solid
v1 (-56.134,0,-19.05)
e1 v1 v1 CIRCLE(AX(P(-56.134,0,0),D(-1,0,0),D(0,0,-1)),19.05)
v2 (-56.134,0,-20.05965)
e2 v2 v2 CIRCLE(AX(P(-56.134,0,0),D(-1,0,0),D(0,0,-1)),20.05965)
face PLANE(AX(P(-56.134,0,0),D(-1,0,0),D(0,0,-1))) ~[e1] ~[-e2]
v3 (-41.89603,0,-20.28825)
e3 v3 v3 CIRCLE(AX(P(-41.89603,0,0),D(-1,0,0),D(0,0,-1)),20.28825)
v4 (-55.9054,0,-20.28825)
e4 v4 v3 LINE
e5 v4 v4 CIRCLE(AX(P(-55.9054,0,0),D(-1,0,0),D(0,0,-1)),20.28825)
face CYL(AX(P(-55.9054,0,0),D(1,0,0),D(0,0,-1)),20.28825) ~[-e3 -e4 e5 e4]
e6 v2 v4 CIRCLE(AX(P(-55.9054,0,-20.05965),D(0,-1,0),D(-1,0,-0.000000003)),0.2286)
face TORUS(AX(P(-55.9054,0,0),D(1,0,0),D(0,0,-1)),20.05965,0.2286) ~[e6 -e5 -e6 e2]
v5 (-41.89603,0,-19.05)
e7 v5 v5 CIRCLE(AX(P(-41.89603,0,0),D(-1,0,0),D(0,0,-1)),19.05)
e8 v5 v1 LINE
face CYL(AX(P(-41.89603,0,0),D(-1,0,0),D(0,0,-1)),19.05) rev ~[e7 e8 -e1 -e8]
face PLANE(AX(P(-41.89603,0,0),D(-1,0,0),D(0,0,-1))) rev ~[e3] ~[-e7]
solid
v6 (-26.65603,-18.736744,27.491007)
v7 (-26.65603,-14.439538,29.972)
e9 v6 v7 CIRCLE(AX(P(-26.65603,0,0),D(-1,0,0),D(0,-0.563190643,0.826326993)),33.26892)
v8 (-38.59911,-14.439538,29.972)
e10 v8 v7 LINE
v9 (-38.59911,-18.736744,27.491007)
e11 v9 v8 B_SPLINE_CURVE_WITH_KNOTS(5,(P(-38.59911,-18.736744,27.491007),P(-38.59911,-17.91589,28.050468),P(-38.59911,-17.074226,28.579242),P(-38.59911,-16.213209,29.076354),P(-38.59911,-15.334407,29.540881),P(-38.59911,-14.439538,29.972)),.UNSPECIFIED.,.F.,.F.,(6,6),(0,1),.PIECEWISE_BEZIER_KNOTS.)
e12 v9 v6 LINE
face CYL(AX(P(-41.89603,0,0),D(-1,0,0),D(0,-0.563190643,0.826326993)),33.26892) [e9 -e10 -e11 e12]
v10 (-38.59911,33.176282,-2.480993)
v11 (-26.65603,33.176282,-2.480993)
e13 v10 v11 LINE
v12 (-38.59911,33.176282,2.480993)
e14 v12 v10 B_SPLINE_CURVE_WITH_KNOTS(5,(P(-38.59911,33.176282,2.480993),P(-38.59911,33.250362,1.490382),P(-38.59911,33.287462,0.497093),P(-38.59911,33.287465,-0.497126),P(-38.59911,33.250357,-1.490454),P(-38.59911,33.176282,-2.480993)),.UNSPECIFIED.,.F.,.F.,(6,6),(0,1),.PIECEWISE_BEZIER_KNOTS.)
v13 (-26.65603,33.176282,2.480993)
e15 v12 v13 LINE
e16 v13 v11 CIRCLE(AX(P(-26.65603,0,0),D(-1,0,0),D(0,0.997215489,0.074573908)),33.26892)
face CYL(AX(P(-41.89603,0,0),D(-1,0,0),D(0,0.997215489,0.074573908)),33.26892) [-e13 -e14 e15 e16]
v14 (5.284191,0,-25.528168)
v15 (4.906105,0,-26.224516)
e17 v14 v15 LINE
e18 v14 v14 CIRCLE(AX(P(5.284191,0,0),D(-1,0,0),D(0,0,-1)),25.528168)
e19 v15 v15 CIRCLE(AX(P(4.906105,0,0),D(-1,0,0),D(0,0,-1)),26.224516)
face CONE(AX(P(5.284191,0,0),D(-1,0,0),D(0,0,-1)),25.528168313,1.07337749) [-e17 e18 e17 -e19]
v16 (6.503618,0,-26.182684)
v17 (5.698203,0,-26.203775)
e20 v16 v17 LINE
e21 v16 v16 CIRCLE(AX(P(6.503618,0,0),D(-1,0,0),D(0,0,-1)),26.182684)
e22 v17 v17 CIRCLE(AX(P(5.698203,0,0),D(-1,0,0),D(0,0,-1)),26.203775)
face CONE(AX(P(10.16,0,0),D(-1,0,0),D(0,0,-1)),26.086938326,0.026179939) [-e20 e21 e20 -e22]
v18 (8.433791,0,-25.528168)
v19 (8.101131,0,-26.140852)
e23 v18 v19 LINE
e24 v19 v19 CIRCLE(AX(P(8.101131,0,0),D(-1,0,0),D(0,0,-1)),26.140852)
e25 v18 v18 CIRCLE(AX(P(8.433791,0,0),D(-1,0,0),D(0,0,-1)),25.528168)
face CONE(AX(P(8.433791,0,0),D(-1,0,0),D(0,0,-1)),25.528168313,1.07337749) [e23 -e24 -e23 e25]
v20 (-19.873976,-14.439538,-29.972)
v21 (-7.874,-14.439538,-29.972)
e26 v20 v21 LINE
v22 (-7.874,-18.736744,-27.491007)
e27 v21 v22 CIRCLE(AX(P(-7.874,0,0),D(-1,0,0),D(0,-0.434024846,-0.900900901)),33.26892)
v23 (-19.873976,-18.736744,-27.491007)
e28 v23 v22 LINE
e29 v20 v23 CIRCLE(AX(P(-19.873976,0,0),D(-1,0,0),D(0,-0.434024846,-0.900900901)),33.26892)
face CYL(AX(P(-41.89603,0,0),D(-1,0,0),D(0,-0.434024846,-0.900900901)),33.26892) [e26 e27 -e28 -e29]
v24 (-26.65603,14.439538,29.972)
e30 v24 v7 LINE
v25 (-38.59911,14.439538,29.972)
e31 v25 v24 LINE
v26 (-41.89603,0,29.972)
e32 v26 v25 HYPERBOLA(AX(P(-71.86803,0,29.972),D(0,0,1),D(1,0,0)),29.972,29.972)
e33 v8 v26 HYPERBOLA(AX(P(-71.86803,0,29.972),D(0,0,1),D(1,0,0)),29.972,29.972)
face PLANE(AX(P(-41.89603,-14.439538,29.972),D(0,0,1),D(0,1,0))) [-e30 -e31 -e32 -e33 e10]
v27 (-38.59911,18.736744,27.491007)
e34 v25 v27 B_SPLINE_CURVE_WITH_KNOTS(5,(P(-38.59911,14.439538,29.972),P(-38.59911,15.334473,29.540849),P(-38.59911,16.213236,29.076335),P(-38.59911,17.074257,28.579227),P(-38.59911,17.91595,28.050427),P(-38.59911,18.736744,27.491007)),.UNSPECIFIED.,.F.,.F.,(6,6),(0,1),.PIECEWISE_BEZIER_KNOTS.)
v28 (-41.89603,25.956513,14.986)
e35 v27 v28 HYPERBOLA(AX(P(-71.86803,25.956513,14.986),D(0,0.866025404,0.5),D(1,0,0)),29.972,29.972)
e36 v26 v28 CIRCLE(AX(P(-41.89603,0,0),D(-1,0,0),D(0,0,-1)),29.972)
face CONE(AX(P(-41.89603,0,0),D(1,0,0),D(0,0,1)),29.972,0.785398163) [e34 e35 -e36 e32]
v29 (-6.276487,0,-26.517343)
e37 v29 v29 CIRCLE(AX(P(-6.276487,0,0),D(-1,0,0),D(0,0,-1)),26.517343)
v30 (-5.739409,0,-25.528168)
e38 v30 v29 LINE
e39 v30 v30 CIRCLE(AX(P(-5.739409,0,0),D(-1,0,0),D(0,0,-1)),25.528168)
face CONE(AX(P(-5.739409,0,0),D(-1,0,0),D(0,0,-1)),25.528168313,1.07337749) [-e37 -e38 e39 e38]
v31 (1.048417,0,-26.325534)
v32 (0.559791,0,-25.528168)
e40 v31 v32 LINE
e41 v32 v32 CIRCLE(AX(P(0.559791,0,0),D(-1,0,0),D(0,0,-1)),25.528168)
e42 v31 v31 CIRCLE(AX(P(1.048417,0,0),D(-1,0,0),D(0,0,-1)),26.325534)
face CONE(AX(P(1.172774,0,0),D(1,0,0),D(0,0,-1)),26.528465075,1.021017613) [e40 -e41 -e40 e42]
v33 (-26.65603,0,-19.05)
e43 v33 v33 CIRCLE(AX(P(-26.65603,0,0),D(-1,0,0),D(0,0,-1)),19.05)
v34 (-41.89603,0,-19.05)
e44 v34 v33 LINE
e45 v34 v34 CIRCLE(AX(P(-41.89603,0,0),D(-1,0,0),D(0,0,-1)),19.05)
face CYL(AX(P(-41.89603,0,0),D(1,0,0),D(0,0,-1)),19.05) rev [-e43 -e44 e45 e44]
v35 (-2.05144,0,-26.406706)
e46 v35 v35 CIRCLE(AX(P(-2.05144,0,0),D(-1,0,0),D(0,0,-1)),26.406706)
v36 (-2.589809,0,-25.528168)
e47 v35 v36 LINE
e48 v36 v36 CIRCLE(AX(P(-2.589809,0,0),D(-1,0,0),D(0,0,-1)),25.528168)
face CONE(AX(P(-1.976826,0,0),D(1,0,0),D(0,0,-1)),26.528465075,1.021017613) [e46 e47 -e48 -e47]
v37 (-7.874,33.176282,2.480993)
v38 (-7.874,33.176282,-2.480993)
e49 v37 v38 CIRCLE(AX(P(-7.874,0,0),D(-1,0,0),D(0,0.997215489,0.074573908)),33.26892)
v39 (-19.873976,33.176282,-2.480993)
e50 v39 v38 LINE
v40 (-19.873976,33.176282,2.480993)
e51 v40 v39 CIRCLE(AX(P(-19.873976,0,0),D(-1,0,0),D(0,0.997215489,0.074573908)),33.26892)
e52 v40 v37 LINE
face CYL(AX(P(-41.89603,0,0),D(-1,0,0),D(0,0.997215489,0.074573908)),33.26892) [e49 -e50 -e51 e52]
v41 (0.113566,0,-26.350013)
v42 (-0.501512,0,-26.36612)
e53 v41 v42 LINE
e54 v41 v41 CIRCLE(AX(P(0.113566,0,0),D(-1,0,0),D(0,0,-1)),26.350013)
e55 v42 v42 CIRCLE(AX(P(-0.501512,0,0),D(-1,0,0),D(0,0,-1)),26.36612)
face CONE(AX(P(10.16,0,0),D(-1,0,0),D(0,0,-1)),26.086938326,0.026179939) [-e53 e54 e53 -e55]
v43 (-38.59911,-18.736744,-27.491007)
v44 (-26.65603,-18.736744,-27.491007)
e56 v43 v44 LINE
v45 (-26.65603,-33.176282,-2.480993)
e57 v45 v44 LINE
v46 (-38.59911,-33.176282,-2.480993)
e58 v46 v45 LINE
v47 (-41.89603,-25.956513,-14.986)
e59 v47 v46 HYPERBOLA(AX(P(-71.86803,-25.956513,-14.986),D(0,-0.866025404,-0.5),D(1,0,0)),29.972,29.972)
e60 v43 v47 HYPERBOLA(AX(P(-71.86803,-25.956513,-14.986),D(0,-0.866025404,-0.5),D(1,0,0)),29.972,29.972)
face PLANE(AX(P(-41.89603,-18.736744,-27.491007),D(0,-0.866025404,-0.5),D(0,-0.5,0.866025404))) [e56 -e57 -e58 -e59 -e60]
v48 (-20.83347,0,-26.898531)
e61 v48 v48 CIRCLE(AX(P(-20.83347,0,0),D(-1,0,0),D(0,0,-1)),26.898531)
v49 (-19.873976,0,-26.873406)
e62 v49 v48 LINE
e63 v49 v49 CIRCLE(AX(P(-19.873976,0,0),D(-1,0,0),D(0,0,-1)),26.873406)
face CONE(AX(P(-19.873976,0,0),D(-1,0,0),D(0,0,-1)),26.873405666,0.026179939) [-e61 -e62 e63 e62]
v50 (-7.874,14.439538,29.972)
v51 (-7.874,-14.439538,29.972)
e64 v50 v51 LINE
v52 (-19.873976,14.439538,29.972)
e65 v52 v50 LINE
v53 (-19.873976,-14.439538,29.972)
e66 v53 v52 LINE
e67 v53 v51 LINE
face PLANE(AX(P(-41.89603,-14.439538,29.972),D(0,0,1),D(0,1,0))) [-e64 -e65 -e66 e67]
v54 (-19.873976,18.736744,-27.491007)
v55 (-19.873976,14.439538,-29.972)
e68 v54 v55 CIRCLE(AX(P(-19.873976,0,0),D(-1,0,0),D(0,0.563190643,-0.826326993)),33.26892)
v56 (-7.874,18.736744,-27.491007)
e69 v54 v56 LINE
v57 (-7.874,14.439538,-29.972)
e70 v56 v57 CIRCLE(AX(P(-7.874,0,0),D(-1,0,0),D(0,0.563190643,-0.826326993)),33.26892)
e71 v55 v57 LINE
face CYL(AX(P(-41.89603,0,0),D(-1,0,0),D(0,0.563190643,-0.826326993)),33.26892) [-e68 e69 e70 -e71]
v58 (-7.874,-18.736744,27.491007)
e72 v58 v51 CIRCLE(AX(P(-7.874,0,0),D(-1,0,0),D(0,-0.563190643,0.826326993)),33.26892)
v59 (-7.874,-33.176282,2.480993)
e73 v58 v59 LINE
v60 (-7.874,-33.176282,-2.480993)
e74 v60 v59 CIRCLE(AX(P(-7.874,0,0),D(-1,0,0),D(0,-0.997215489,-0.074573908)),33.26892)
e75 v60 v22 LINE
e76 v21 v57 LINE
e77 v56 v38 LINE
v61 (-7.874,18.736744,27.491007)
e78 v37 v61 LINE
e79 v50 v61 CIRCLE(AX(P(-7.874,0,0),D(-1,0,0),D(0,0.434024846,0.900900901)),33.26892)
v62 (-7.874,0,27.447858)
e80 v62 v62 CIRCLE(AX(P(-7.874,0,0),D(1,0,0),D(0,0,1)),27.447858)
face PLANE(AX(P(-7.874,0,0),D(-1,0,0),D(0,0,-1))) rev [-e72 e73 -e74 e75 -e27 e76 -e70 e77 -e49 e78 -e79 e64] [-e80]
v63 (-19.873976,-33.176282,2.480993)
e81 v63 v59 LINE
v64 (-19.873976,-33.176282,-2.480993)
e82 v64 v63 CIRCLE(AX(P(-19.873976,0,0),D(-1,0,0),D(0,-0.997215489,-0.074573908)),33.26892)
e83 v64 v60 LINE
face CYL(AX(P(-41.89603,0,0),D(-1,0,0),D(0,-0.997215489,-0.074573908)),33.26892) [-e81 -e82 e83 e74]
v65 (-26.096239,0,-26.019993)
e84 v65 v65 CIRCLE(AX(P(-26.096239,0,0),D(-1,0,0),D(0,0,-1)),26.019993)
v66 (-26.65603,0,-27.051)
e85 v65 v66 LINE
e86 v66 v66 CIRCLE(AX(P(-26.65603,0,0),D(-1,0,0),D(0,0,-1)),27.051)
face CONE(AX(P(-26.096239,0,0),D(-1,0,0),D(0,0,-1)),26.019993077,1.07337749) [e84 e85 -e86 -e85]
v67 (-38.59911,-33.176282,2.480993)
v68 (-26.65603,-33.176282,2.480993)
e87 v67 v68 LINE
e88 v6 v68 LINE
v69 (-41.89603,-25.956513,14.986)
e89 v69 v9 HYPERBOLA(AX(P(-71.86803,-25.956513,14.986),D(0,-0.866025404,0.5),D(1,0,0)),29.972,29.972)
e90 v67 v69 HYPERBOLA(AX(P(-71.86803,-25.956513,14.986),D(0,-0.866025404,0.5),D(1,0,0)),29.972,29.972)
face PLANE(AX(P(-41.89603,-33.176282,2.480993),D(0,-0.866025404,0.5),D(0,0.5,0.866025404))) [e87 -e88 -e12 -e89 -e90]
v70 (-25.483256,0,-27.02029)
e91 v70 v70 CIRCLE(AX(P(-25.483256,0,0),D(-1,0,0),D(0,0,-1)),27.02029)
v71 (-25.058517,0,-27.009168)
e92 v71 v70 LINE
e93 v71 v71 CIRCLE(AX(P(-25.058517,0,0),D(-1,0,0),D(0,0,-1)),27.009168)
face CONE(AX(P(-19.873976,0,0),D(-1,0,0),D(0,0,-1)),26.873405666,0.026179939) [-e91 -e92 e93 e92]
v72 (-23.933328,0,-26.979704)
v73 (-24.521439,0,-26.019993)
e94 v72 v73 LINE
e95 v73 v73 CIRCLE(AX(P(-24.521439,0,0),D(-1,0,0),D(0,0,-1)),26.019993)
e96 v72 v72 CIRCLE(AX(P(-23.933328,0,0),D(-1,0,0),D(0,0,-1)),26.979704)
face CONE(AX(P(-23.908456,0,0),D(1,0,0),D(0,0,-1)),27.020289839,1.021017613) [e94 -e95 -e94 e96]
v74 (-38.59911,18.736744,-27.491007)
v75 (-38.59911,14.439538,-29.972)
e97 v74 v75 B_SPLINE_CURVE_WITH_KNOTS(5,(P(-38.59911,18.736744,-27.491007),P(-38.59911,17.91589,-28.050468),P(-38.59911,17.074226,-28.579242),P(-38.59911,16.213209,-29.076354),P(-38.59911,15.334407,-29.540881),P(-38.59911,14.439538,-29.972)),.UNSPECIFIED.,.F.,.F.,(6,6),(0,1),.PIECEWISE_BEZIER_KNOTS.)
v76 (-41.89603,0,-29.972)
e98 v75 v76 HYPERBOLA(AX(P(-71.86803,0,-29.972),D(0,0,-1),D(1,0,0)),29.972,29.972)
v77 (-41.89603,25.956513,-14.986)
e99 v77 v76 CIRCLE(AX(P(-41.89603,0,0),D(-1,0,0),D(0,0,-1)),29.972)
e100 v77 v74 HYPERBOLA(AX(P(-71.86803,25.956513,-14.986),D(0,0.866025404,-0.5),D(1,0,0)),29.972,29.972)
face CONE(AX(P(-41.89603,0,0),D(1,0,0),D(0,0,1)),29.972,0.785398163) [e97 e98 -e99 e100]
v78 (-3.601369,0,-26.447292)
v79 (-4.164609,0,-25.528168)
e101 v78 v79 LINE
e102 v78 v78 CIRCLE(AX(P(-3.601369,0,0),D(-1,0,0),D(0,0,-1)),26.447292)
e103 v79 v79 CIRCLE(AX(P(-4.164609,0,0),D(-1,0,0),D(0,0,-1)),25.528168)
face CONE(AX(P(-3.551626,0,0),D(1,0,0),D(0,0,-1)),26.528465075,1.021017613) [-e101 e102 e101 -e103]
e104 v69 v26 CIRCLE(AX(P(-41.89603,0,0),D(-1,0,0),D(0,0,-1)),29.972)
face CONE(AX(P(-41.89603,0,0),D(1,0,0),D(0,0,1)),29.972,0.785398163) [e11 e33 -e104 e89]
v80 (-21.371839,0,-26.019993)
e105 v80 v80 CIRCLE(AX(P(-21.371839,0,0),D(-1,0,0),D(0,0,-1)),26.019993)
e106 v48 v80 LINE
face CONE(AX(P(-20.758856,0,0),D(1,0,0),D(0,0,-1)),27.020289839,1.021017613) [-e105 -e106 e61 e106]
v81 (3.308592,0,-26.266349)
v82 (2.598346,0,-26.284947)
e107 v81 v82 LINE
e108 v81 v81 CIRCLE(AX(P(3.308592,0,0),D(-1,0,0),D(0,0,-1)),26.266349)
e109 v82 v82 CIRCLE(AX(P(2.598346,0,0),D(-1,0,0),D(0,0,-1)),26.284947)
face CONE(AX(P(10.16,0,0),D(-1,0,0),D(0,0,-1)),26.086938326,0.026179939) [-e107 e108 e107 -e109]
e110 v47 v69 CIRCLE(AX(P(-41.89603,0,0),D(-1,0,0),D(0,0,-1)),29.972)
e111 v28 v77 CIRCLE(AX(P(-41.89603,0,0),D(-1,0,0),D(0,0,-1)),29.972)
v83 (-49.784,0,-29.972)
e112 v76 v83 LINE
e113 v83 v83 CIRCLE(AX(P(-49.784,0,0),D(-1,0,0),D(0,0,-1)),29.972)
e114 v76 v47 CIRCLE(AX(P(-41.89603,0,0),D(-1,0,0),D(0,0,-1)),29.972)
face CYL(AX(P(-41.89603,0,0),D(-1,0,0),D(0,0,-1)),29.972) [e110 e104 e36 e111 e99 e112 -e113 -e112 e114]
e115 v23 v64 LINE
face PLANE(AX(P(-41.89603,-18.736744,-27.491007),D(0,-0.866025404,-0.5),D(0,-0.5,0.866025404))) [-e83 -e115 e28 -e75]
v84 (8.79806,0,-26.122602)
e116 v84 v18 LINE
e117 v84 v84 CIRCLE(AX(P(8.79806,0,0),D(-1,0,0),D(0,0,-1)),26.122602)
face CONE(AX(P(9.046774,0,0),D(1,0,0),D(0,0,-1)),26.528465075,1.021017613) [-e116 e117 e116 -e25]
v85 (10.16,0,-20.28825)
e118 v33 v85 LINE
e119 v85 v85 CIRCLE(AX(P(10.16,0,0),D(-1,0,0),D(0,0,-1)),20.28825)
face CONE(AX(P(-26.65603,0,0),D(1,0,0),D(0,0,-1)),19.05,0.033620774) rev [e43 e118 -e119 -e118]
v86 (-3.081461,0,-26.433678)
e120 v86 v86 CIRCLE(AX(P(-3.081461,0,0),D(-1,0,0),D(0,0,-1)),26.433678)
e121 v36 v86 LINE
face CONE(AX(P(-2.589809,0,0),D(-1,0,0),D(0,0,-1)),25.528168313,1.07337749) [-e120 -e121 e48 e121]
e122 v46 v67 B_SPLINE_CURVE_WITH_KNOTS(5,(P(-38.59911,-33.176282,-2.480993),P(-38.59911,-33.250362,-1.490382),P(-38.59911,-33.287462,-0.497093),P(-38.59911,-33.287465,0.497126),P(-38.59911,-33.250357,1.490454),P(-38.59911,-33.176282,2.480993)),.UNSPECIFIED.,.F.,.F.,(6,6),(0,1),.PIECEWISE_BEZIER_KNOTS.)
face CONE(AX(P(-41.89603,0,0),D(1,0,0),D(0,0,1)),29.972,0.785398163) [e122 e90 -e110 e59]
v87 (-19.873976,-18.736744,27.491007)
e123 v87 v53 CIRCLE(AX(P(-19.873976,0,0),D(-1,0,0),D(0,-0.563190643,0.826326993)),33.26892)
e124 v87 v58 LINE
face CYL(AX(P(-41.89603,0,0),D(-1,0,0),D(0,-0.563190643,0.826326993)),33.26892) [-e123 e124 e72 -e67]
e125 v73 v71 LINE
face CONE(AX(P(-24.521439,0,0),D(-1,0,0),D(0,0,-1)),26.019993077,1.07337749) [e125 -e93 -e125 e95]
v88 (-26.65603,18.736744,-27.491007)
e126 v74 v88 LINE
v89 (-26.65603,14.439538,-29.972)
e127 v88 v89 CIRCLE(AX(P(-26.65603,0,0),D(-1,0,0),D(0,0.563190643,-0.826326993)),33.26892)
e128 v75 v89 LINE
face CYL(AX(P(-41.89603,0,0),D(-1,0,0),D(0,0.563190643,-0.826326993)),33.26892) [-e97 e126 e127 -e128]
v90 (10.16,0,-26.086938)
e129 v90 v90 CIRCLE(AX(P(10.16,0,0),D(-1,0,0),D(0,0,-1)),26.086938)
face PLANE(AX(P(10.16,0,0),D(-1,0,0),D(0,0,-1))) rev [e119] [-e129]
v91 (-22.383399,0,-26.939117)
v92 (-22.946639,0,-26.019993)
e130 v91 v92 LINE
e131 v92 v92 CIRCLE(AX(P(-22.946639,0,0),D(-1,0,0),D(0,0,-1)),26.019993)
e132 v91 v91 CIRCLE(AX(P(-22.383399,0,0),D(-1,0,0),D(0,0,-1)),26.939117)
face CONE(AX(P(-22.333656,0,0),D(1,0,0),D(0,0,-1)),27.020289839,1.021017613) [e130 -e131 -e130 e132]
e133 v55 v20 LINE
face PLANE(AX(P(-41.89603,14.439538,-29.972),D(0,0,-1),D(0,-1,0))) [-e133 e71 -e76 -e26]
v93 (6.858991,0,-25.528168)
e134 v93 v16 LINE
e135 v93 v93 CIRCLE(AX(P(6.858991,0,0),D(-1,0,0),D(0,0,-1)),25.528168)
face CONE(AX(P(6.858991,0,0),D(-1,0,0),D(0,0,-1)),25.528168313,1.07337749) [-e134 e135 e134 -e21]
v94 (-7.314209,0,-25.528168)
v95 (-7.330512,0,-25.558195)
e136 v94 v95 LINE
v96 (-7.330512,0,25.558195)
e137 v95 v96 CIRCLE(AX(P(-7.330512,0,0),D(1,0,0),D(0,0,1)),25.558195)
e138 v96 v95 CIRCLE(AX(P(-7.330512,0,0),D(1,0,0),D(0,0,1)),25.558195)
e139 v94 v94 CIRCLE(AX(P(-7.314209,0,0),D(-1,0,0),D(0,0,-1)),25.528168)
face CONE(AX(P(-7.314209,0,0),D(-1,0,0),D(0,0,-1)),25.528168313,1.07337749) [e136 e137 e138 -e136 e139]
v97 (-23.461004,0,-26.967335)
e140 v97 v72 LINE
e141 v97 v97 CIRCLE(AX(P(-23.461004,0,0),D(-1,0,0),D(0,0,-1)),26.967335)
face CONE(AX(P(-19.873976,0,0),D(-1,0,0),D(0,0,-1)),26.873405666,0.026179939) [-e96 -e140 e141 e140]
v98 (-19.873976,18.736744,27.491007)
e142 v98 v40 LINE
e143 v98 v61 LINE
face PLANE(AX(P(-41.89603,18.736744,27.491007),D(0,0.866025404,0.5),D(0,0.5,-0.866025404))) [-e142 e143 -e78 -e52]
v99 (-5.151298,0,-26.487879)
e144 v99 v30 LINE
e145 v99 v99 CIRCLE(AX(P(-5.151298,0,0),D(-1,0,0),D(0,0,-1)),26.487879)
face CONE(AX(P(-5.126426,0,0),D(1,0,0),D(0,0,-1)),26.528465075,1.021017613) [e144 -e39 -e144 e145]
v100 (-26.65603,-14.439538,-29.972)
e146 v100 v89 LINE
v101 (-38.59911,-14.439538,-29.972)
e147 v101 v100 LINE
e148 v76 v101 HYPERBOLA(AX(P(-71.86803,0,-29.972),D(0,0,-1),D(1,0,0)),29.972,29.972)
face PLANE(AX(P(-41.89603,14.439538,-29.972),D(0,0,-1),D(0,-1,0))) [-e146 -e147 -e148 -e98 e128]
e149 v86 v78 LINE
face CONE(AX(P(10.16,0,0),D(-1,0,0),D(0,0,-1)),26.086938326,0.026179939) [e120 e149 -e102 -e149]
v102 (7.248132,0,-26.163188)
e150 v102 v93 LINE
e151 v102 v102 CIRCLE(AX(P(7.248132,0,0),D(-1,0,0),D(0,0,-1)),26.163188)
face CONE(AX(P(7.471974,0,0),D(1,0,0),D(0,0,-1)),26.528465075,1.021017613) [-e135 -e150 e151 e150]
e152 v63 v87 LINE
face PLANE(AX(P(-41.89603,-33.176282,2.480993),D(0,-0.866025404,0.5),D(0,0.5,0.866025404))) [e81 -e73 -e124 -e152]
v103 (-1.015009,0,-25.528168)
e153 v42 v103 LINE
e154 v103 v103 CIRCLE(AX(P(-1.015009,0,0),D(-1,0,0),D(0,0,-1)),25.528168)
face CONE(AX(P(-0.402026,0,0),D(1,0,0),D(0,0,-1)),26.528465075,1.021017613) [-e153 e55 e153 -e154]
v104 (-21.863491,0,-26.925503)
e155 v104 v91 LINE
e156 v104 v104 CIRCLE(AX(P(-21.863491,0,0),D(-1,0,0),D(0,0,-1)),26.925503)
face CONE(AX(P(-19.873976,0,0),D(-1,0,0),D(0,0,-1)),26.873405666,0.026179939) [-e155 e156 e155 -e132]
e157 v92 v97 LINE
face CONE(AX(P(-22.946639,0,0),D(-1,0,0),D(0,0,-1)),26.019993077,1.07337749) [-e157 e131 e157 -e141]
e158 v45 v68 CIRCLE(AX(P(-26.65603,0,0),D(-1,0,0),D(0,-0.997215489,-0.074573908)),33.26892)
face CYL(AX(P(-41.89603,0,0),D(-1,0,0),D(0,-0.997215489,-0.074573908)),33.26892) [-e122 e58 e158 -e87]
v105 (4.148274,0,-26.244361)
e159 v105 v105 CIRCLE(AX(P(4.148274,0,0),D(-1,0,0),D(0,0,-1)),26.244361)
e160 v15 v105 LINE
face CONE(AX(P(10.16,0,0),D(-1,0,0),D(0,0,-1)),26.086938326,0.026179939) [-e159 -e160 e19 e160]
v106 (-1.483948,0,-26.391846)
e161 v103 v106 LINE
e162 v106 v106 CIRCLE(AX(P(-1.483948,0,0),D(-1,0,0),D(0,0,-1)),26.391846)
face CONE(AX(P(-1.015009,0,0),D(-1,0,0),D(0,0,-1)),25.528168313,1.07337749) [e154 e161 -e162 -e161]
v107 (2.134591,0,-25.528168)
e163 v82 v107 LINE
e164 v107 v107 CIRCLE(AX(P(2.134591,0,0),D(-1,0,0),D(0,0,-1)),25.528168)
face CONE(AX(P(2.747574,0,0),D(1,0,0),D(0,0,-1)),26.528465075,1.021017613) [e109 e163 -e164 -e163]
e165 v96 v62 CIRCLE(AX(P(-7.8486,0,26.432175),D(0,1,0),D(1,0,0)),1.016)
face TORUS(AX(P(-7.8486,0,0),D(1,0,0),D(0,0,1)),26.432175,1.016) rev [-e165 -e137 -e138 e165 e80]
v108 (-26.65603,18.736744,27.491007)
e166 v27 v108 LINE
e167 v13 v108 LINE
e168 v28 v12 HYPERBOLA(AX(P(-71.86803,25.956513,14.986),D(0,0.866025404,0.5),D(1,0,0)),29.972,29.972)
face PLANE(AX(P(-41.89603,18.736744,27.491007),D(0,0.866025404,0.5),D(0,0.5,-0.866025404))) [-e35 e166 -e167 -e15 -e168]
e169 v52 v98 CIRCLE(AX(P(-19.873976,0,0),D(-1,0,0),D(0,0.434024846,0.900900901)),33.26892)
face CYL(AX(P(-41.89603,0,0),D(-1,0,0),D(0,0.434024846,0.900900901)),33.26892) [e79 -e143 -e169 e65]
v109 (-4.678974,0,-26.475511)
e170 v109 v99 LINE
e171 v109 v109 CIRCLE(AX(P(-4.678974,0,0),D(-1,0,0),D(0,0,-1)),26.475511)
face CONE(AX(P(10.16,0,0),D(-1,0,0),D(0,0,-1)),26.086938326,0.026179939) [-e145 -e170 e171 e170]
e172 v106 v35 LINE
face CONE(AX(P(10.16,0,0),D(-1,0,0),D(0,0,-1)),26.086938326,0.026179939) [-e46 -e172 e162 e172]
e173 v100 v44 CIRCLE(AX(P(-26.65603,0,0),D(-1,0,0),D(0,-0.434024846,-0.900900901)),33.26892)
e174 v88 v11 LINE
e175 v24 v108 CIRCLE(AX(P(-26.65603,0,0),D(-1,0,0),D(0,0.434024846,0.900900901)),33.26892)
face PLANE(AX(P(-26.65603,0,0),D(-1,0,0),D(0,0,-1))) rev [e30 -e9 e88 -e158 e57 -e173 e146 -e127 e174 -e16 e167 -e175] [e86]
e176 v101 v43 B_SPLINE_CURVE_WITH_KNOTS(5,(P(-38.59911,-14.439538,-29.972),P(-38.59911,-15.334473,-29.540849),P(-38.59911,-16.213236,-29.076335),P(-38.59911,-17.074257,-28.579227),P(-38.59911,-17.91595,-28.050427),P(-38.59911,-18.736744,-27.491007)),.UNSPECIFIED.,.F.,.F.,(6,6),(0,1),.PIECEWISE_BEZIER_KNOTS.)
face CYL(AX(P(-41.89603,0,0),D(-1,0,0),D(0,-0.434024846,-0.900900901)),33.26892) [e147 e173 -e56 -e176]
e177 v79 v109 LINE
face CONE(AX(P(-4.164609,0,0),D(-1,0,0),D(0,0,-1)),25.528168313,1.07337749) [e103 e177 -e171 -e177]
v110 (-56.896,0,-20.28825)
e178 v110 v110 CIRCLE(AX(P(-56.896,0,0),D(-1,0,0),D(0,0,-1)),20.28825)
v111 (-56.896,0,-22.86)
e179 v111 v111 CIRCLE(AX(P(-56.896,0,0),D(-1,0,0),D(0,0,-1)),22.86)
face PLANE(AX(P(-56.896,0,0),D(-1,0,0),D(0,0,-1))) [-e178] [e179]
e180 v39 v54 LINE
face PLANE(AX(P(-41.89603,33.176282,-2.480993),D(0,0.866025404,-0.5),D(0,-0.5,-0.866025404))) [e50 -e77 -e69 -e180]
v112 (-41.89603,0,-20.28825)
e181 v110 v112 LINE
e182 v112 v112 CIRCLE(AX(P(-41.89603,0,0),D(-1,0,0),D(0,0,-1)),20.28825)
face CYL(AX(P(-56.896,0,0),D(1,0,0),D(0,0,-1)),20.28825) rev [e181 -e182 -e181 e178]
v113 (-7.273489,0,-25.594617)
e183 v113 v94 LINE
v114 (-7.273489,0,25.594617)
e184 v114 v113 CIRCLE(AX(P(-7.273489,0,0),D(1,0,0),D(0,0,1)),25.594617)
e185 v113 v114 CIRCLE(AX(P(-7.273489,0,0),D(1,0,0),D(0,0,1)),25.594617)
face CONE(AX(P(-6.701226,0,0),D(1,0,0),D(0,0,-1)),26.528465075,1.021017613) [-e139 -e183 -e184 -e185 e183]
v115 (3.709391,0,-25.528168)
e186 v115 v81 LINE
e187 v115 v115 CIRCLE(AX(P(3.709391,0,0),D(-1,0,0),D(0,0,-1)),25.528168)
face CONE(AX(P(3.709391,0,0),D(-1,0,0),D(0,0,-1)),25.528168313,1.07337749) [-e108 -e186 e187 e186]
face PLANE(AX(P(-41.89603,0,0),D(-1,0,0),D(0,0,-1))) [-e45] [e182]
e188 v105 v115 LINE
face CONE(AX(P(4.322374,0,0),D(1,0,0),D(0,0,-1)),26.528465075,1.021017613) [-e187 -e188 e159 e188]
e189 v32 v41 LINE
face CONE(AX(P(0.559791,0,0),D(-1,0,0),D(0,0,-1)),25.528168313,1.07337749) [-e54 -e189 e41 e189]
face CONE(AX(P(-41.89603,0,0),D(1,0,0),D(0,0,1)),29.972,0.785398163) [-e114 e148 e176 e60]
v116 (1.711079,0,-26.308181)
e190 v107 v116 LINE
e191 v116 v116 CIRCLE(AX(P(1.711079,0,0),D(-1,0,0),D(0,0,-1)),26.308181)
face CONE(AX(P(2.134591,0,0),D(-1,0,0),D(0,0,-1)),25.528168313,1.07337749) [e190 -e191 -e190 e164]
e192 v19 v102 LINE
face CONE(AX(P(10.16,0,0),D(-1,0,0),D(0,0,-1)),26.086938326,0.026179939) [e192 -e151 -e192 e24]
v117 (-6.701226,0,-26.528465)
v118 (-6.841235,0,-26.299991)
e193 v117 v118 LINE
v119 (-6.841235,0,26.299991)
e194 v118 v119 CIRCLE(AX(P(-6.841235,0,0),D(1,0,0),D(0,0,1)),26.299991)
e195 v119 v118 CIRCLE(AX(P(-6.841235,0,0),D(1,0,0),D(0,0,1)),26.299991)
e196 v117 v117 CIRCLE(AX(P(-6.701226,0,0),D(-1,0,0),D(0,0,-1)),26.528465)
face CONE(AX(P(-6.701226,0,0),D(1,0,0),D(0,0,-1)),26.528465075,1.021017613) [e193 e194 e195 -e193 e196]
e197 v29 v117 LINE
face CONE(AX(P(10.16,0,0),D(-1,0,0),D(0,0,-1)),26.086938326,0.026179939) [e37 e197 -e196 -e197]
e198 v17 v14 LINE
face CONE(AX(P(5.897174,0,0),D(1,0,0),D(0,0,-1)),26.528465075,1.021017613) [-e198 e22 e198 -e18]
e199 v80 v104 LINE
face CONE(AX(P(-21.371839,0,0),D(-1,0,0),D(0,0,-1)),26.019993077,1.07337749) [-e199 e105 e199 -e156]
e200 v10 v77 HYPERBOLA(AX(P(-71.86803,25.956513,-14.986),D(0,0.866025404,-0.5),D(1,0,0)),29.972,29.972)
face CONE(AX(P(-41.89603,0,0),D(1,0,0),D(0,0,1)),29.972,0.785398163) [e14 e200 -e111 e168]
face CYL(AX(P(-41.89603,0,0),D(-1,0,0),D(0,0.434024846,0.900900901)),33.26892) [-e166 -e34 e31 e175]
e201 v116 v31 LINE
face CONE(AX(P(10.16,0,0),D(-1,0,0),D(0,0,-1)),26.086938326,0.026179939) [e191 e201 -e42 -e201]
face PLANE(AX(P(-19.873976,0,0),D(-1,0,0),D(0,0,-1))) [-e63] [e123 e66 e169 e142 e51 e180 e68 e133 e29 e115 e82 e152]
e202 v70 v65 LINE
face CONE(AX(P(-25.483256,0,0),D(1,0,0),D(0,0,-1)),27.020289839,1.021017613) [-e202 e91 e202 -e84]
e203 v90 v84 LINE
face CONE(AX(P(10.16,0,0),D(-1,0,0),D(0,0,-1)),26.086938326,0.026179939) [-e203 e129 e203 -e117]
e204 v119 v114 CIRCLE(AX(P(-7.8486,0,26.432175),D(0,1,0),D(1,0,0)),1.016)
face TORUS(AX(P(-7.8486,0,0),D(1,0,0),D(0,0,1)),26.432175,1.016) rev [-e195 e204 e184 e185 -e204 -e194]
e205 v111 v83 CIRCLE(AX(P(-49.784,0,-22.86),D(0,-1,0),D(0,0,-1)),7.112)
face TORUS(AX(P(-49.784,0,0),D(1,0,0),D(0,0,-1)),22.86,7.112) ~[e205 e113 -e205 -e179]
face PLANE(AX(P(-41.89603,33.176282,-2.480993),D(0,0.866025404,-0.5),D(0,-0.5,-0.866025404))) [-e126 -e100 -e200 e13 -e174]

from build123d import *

# Parameters (mm, degrees)
LPATTERN6_COUNT    = 4
LPATTERN6_PITCH    = 1.5748
LPATTERN7_COUNT    = 11
LPATTERN7_PITCH    = 1.5748
SKETCH12_OUTSIDE_W = 158.354
SKETCH12_OUTSIDE_H = 158.354
CUT_EXTRUDE2_DEPTH = 53.05603
FILLET4_R          = 7.112
SKETCH19_OUTSIDE_W = 92.316
SKETCH19_OUTSIDE_H = 98.91
SKETCH19_OUTSIDE_R = 29.972
CUT_EXTRUDE3_DEPTH = 3.99796
CUT_EXTRUDE3_DRAFT = -45
SKETCH28_R         = 1.016


with BuildPart() as part:
    # Sketch10 → Revolve2 (revolve)
    with BuildSketch(Plane.XY, mode=Mode.PRIVATE) as revolve2_sk:
        Polygon((-41.89603, 19.05), (-26.65603, 19.05), (10.16, 20.28825), (10.16, 26.086938326), (-7.874, 26.559175236), (-7.874, 59.944), (-19.873976, 59.944), (-19.873976, 26.873405666), (-26.65603, 27.051), (-26.65603, 59.944), (-41.89603, 59.944), (-41.89603, 29.972), (-56.896, 29.972), (-56.896, 20.28825), (-41.89603, 20.28825), align=None)
    revolve(revolve2_sk.sketch.rotate(Axis((0, 0, 0), (-1, 0, 0)), 90), axis=Axis((0, 0, 0), (-1, 0, 0)))  # turned: the seam where the file's is

    # Sketch26 → Cut-Revolve1 (revolve, cut)
    with BuildSketch(Plane.XY, mode=Mode.PRIVATE) as cut_revolve1_sk:
        Polygon((-26.65603, 27.051), (-25.483256271, 27.020289839), (-26.096238915, 26.019993077), align=None)
    cut_revolve1 = revolve(cut_revolve1_sk.sketch.rotate(Axis((0, 0, 0), (-1, 0, 0)), 90), axis=Axis((0, 0, 0), (-1, 0, 0)), mode=Mode.SUBTRACT)  # turned: the seam where the file's is

    # LPattern6: Cut-Revolve1 ×4
    with Locations(*[(i * LPATTERN6_PITCH, 0, 0) for i in range(1, LPATTERN6_COUNT)]):
        add(cut_revolve1, mode=Mode.SUBTRACT)

    # Sketch27 → Cut-Revolve2 (revolve, cut)
    with BuildSketch(Plane.XY, mode=Mode.PRIVATE) as cut_revolve2_sk:
        Polygon((-7.874, 26.559175236), (-6.701226271, 26.528465075), (-7.314208915, 25.528168313), align=None)
    cut_revolve2 = revolve(cut_revolve2_sk.sketch.rotate(Axis((0, 0, 0), (-1, 0, 0)), 90), axis=Axis((0, 0, 0), (-1, 0, 0)), mode=Mode.SUBTRACT)  # turned: the seam where the file's is

    # LPattern7: Cut-Revolve2 ×11
    with Locations(*[(i * LPATTERN7_PITCH, 0, 0) for i in range(1, LPATTERN7_COUNT)]):
        add(cut_revolve2, mode=Mode.SUBTRACT)

    # Sketch12 outside → Cut-Extrude2 (cut, through all)
    with BuildSketch(Plane.ZY.offset(41.89603)):
        Rectangle(SKETCH12_OUTSIDE_W, SKETCH12_OUTSIDE_H)
        with BuildLine():
            Line((-2.480993384, 33.176282338), (-27.491006616, 18.736744466))
            ThreePointArc((-27.491006616, 18.736744466), (-28.811729876, 16.63446), (-29.972, 14.439537872))
            Line((-29.972, 14.439537872), (-29.972, -14.439537872))
            ThreePointArc((-29.972, -14.439537872), (-28.811729876, -16.63446), (-27.491006616, -18.736744466))
            Line((-27.491006616, -18.736744466), (-2.480993384, -33.176282338))
            ThreePointArc((-2.480993384, -33.176282338), (0, -33.26892), (2.480993384, -33.176282338))
            Line((2.480993384, -33.176282338), (27.491006616, -18.736744466))
            ThreePointArc((27.491006616, -18.736744466), (28.811729876, -16.63446), (29.972, -14.439537872))
            Line((29.972, -14.439537872), (29.972, 14.439537872))
            ThreePointArc((29.972, 14.439537872), (28.811729876, 16.63446), (27.491006616, 18.736744466))
            Line((27.491006616, 18.736744466), (2.480993384, 33.176282338))
            ThreePointArc((2.480993384, 33.176282338), (0, 33.26892), (-2.480993384, 33.176282338))
        make_face(mode=Mode.SUBTRACT)
    extrude(amount=-CUT_EXTRUDE2_DEPTH, mode=Mode.SUBTRACT)

    # Fillet4
    fillet4_edges = [part.edges().sort_by_distance(p)[0] for p in [
        (-56.896, 0, 29.972),
    ]]
    fillet(fillet4_edges, radius=FILLET4_R)


with BuildPart() as body_2:
    # Sketch23 → Revolve6 (revolve)
    with BuildSketch(Plane.XY, mode=Mode.PRIVATE) as revolve6_sk:
        with BuildLine():
            Line((-55.9054, 20.28825), (-41.89603, 20.28825))
            Line((-41.89603, 20.28825), (-41.89603, 19.05))
            Line((-41.89603, 19.05), (-56.134, 19.05))
            Line((-56.134, 19.05), (-56.134, 20.05965))
            ThreePointArc((-56.134, 20.05965), (-56.06704461, 20.22129461), (-55.9054, 20.28825))
        make_face()
    revolve(revolve6_sk.sketch.rotate(Axis((0, 0, 0), (-1, 0, 0)), 90), axis=Axis((0, 0, 0), (-1, 0, 0)))  # turned: the seam where the file's is


with BuildPart() as cut_extrude3_tool:
    # Sketch19 outside → Cut-Extrude3 (with draft: the straight prism first)
    with BuildSketch(Plane.ZY.offset(41.89603)):
        Rectangle(SKETCH19_OUTSIDE_W, SKETCH19_OUTSIDE_H)
        Circle(SKETCH19_OUTSIDE_R, mode=Mode.SUBTRACT)
    extrude(amount=-CUT_EXTRUDE3_DEPTH)
    # Cut-Extrude3: the draft: its side faces are tilted about the plane it starts from
    cut_extrude3_sides = [cut_extrude3_tool.faces().sort_by_distance(p)[0] for p in [
        (-39.89705, -49.455, 0),
        (-39.89705, 0, 46.158),
        (-39.89705, 49.455, 0),
        (-39.89705, 0, -46.158),
        (-39.89705, 0, -29.972),
    ]]
    draft(cut_extrude3_sides, Plane.ZY.offset(41.89603), CUT_EXTRUDE3_DRAFT)


with BuildPart() as part_1:
    add(part.part)

    # Cut-Extrude3: cut by cut_extrude3_tool
    add(cut_extrude3_tool.part, mode=Mode.SUBTRACT)

    # Sketch28 → Cut-Revolve3 (revolve, cut)
    with BuildSketch(Plane.XY, mode=Mode.PRIVATE) as cut_revolve3_sk:
        with Locations((-7.8486, -26.432175236)):
            Circle(SKETCH28_R)
    revolve(cut_revolve3_sk.sketch.rotate(Axis((10.16, 0, 0), (-1, 0, 0)), 90), axis=Axis((10.16, 0, 0), (-1, 0, 0)), mode=Mode.SUBTRACT)  # turned: the seam where the file's is


solid = Compound([body_2.part, part_1.part])
